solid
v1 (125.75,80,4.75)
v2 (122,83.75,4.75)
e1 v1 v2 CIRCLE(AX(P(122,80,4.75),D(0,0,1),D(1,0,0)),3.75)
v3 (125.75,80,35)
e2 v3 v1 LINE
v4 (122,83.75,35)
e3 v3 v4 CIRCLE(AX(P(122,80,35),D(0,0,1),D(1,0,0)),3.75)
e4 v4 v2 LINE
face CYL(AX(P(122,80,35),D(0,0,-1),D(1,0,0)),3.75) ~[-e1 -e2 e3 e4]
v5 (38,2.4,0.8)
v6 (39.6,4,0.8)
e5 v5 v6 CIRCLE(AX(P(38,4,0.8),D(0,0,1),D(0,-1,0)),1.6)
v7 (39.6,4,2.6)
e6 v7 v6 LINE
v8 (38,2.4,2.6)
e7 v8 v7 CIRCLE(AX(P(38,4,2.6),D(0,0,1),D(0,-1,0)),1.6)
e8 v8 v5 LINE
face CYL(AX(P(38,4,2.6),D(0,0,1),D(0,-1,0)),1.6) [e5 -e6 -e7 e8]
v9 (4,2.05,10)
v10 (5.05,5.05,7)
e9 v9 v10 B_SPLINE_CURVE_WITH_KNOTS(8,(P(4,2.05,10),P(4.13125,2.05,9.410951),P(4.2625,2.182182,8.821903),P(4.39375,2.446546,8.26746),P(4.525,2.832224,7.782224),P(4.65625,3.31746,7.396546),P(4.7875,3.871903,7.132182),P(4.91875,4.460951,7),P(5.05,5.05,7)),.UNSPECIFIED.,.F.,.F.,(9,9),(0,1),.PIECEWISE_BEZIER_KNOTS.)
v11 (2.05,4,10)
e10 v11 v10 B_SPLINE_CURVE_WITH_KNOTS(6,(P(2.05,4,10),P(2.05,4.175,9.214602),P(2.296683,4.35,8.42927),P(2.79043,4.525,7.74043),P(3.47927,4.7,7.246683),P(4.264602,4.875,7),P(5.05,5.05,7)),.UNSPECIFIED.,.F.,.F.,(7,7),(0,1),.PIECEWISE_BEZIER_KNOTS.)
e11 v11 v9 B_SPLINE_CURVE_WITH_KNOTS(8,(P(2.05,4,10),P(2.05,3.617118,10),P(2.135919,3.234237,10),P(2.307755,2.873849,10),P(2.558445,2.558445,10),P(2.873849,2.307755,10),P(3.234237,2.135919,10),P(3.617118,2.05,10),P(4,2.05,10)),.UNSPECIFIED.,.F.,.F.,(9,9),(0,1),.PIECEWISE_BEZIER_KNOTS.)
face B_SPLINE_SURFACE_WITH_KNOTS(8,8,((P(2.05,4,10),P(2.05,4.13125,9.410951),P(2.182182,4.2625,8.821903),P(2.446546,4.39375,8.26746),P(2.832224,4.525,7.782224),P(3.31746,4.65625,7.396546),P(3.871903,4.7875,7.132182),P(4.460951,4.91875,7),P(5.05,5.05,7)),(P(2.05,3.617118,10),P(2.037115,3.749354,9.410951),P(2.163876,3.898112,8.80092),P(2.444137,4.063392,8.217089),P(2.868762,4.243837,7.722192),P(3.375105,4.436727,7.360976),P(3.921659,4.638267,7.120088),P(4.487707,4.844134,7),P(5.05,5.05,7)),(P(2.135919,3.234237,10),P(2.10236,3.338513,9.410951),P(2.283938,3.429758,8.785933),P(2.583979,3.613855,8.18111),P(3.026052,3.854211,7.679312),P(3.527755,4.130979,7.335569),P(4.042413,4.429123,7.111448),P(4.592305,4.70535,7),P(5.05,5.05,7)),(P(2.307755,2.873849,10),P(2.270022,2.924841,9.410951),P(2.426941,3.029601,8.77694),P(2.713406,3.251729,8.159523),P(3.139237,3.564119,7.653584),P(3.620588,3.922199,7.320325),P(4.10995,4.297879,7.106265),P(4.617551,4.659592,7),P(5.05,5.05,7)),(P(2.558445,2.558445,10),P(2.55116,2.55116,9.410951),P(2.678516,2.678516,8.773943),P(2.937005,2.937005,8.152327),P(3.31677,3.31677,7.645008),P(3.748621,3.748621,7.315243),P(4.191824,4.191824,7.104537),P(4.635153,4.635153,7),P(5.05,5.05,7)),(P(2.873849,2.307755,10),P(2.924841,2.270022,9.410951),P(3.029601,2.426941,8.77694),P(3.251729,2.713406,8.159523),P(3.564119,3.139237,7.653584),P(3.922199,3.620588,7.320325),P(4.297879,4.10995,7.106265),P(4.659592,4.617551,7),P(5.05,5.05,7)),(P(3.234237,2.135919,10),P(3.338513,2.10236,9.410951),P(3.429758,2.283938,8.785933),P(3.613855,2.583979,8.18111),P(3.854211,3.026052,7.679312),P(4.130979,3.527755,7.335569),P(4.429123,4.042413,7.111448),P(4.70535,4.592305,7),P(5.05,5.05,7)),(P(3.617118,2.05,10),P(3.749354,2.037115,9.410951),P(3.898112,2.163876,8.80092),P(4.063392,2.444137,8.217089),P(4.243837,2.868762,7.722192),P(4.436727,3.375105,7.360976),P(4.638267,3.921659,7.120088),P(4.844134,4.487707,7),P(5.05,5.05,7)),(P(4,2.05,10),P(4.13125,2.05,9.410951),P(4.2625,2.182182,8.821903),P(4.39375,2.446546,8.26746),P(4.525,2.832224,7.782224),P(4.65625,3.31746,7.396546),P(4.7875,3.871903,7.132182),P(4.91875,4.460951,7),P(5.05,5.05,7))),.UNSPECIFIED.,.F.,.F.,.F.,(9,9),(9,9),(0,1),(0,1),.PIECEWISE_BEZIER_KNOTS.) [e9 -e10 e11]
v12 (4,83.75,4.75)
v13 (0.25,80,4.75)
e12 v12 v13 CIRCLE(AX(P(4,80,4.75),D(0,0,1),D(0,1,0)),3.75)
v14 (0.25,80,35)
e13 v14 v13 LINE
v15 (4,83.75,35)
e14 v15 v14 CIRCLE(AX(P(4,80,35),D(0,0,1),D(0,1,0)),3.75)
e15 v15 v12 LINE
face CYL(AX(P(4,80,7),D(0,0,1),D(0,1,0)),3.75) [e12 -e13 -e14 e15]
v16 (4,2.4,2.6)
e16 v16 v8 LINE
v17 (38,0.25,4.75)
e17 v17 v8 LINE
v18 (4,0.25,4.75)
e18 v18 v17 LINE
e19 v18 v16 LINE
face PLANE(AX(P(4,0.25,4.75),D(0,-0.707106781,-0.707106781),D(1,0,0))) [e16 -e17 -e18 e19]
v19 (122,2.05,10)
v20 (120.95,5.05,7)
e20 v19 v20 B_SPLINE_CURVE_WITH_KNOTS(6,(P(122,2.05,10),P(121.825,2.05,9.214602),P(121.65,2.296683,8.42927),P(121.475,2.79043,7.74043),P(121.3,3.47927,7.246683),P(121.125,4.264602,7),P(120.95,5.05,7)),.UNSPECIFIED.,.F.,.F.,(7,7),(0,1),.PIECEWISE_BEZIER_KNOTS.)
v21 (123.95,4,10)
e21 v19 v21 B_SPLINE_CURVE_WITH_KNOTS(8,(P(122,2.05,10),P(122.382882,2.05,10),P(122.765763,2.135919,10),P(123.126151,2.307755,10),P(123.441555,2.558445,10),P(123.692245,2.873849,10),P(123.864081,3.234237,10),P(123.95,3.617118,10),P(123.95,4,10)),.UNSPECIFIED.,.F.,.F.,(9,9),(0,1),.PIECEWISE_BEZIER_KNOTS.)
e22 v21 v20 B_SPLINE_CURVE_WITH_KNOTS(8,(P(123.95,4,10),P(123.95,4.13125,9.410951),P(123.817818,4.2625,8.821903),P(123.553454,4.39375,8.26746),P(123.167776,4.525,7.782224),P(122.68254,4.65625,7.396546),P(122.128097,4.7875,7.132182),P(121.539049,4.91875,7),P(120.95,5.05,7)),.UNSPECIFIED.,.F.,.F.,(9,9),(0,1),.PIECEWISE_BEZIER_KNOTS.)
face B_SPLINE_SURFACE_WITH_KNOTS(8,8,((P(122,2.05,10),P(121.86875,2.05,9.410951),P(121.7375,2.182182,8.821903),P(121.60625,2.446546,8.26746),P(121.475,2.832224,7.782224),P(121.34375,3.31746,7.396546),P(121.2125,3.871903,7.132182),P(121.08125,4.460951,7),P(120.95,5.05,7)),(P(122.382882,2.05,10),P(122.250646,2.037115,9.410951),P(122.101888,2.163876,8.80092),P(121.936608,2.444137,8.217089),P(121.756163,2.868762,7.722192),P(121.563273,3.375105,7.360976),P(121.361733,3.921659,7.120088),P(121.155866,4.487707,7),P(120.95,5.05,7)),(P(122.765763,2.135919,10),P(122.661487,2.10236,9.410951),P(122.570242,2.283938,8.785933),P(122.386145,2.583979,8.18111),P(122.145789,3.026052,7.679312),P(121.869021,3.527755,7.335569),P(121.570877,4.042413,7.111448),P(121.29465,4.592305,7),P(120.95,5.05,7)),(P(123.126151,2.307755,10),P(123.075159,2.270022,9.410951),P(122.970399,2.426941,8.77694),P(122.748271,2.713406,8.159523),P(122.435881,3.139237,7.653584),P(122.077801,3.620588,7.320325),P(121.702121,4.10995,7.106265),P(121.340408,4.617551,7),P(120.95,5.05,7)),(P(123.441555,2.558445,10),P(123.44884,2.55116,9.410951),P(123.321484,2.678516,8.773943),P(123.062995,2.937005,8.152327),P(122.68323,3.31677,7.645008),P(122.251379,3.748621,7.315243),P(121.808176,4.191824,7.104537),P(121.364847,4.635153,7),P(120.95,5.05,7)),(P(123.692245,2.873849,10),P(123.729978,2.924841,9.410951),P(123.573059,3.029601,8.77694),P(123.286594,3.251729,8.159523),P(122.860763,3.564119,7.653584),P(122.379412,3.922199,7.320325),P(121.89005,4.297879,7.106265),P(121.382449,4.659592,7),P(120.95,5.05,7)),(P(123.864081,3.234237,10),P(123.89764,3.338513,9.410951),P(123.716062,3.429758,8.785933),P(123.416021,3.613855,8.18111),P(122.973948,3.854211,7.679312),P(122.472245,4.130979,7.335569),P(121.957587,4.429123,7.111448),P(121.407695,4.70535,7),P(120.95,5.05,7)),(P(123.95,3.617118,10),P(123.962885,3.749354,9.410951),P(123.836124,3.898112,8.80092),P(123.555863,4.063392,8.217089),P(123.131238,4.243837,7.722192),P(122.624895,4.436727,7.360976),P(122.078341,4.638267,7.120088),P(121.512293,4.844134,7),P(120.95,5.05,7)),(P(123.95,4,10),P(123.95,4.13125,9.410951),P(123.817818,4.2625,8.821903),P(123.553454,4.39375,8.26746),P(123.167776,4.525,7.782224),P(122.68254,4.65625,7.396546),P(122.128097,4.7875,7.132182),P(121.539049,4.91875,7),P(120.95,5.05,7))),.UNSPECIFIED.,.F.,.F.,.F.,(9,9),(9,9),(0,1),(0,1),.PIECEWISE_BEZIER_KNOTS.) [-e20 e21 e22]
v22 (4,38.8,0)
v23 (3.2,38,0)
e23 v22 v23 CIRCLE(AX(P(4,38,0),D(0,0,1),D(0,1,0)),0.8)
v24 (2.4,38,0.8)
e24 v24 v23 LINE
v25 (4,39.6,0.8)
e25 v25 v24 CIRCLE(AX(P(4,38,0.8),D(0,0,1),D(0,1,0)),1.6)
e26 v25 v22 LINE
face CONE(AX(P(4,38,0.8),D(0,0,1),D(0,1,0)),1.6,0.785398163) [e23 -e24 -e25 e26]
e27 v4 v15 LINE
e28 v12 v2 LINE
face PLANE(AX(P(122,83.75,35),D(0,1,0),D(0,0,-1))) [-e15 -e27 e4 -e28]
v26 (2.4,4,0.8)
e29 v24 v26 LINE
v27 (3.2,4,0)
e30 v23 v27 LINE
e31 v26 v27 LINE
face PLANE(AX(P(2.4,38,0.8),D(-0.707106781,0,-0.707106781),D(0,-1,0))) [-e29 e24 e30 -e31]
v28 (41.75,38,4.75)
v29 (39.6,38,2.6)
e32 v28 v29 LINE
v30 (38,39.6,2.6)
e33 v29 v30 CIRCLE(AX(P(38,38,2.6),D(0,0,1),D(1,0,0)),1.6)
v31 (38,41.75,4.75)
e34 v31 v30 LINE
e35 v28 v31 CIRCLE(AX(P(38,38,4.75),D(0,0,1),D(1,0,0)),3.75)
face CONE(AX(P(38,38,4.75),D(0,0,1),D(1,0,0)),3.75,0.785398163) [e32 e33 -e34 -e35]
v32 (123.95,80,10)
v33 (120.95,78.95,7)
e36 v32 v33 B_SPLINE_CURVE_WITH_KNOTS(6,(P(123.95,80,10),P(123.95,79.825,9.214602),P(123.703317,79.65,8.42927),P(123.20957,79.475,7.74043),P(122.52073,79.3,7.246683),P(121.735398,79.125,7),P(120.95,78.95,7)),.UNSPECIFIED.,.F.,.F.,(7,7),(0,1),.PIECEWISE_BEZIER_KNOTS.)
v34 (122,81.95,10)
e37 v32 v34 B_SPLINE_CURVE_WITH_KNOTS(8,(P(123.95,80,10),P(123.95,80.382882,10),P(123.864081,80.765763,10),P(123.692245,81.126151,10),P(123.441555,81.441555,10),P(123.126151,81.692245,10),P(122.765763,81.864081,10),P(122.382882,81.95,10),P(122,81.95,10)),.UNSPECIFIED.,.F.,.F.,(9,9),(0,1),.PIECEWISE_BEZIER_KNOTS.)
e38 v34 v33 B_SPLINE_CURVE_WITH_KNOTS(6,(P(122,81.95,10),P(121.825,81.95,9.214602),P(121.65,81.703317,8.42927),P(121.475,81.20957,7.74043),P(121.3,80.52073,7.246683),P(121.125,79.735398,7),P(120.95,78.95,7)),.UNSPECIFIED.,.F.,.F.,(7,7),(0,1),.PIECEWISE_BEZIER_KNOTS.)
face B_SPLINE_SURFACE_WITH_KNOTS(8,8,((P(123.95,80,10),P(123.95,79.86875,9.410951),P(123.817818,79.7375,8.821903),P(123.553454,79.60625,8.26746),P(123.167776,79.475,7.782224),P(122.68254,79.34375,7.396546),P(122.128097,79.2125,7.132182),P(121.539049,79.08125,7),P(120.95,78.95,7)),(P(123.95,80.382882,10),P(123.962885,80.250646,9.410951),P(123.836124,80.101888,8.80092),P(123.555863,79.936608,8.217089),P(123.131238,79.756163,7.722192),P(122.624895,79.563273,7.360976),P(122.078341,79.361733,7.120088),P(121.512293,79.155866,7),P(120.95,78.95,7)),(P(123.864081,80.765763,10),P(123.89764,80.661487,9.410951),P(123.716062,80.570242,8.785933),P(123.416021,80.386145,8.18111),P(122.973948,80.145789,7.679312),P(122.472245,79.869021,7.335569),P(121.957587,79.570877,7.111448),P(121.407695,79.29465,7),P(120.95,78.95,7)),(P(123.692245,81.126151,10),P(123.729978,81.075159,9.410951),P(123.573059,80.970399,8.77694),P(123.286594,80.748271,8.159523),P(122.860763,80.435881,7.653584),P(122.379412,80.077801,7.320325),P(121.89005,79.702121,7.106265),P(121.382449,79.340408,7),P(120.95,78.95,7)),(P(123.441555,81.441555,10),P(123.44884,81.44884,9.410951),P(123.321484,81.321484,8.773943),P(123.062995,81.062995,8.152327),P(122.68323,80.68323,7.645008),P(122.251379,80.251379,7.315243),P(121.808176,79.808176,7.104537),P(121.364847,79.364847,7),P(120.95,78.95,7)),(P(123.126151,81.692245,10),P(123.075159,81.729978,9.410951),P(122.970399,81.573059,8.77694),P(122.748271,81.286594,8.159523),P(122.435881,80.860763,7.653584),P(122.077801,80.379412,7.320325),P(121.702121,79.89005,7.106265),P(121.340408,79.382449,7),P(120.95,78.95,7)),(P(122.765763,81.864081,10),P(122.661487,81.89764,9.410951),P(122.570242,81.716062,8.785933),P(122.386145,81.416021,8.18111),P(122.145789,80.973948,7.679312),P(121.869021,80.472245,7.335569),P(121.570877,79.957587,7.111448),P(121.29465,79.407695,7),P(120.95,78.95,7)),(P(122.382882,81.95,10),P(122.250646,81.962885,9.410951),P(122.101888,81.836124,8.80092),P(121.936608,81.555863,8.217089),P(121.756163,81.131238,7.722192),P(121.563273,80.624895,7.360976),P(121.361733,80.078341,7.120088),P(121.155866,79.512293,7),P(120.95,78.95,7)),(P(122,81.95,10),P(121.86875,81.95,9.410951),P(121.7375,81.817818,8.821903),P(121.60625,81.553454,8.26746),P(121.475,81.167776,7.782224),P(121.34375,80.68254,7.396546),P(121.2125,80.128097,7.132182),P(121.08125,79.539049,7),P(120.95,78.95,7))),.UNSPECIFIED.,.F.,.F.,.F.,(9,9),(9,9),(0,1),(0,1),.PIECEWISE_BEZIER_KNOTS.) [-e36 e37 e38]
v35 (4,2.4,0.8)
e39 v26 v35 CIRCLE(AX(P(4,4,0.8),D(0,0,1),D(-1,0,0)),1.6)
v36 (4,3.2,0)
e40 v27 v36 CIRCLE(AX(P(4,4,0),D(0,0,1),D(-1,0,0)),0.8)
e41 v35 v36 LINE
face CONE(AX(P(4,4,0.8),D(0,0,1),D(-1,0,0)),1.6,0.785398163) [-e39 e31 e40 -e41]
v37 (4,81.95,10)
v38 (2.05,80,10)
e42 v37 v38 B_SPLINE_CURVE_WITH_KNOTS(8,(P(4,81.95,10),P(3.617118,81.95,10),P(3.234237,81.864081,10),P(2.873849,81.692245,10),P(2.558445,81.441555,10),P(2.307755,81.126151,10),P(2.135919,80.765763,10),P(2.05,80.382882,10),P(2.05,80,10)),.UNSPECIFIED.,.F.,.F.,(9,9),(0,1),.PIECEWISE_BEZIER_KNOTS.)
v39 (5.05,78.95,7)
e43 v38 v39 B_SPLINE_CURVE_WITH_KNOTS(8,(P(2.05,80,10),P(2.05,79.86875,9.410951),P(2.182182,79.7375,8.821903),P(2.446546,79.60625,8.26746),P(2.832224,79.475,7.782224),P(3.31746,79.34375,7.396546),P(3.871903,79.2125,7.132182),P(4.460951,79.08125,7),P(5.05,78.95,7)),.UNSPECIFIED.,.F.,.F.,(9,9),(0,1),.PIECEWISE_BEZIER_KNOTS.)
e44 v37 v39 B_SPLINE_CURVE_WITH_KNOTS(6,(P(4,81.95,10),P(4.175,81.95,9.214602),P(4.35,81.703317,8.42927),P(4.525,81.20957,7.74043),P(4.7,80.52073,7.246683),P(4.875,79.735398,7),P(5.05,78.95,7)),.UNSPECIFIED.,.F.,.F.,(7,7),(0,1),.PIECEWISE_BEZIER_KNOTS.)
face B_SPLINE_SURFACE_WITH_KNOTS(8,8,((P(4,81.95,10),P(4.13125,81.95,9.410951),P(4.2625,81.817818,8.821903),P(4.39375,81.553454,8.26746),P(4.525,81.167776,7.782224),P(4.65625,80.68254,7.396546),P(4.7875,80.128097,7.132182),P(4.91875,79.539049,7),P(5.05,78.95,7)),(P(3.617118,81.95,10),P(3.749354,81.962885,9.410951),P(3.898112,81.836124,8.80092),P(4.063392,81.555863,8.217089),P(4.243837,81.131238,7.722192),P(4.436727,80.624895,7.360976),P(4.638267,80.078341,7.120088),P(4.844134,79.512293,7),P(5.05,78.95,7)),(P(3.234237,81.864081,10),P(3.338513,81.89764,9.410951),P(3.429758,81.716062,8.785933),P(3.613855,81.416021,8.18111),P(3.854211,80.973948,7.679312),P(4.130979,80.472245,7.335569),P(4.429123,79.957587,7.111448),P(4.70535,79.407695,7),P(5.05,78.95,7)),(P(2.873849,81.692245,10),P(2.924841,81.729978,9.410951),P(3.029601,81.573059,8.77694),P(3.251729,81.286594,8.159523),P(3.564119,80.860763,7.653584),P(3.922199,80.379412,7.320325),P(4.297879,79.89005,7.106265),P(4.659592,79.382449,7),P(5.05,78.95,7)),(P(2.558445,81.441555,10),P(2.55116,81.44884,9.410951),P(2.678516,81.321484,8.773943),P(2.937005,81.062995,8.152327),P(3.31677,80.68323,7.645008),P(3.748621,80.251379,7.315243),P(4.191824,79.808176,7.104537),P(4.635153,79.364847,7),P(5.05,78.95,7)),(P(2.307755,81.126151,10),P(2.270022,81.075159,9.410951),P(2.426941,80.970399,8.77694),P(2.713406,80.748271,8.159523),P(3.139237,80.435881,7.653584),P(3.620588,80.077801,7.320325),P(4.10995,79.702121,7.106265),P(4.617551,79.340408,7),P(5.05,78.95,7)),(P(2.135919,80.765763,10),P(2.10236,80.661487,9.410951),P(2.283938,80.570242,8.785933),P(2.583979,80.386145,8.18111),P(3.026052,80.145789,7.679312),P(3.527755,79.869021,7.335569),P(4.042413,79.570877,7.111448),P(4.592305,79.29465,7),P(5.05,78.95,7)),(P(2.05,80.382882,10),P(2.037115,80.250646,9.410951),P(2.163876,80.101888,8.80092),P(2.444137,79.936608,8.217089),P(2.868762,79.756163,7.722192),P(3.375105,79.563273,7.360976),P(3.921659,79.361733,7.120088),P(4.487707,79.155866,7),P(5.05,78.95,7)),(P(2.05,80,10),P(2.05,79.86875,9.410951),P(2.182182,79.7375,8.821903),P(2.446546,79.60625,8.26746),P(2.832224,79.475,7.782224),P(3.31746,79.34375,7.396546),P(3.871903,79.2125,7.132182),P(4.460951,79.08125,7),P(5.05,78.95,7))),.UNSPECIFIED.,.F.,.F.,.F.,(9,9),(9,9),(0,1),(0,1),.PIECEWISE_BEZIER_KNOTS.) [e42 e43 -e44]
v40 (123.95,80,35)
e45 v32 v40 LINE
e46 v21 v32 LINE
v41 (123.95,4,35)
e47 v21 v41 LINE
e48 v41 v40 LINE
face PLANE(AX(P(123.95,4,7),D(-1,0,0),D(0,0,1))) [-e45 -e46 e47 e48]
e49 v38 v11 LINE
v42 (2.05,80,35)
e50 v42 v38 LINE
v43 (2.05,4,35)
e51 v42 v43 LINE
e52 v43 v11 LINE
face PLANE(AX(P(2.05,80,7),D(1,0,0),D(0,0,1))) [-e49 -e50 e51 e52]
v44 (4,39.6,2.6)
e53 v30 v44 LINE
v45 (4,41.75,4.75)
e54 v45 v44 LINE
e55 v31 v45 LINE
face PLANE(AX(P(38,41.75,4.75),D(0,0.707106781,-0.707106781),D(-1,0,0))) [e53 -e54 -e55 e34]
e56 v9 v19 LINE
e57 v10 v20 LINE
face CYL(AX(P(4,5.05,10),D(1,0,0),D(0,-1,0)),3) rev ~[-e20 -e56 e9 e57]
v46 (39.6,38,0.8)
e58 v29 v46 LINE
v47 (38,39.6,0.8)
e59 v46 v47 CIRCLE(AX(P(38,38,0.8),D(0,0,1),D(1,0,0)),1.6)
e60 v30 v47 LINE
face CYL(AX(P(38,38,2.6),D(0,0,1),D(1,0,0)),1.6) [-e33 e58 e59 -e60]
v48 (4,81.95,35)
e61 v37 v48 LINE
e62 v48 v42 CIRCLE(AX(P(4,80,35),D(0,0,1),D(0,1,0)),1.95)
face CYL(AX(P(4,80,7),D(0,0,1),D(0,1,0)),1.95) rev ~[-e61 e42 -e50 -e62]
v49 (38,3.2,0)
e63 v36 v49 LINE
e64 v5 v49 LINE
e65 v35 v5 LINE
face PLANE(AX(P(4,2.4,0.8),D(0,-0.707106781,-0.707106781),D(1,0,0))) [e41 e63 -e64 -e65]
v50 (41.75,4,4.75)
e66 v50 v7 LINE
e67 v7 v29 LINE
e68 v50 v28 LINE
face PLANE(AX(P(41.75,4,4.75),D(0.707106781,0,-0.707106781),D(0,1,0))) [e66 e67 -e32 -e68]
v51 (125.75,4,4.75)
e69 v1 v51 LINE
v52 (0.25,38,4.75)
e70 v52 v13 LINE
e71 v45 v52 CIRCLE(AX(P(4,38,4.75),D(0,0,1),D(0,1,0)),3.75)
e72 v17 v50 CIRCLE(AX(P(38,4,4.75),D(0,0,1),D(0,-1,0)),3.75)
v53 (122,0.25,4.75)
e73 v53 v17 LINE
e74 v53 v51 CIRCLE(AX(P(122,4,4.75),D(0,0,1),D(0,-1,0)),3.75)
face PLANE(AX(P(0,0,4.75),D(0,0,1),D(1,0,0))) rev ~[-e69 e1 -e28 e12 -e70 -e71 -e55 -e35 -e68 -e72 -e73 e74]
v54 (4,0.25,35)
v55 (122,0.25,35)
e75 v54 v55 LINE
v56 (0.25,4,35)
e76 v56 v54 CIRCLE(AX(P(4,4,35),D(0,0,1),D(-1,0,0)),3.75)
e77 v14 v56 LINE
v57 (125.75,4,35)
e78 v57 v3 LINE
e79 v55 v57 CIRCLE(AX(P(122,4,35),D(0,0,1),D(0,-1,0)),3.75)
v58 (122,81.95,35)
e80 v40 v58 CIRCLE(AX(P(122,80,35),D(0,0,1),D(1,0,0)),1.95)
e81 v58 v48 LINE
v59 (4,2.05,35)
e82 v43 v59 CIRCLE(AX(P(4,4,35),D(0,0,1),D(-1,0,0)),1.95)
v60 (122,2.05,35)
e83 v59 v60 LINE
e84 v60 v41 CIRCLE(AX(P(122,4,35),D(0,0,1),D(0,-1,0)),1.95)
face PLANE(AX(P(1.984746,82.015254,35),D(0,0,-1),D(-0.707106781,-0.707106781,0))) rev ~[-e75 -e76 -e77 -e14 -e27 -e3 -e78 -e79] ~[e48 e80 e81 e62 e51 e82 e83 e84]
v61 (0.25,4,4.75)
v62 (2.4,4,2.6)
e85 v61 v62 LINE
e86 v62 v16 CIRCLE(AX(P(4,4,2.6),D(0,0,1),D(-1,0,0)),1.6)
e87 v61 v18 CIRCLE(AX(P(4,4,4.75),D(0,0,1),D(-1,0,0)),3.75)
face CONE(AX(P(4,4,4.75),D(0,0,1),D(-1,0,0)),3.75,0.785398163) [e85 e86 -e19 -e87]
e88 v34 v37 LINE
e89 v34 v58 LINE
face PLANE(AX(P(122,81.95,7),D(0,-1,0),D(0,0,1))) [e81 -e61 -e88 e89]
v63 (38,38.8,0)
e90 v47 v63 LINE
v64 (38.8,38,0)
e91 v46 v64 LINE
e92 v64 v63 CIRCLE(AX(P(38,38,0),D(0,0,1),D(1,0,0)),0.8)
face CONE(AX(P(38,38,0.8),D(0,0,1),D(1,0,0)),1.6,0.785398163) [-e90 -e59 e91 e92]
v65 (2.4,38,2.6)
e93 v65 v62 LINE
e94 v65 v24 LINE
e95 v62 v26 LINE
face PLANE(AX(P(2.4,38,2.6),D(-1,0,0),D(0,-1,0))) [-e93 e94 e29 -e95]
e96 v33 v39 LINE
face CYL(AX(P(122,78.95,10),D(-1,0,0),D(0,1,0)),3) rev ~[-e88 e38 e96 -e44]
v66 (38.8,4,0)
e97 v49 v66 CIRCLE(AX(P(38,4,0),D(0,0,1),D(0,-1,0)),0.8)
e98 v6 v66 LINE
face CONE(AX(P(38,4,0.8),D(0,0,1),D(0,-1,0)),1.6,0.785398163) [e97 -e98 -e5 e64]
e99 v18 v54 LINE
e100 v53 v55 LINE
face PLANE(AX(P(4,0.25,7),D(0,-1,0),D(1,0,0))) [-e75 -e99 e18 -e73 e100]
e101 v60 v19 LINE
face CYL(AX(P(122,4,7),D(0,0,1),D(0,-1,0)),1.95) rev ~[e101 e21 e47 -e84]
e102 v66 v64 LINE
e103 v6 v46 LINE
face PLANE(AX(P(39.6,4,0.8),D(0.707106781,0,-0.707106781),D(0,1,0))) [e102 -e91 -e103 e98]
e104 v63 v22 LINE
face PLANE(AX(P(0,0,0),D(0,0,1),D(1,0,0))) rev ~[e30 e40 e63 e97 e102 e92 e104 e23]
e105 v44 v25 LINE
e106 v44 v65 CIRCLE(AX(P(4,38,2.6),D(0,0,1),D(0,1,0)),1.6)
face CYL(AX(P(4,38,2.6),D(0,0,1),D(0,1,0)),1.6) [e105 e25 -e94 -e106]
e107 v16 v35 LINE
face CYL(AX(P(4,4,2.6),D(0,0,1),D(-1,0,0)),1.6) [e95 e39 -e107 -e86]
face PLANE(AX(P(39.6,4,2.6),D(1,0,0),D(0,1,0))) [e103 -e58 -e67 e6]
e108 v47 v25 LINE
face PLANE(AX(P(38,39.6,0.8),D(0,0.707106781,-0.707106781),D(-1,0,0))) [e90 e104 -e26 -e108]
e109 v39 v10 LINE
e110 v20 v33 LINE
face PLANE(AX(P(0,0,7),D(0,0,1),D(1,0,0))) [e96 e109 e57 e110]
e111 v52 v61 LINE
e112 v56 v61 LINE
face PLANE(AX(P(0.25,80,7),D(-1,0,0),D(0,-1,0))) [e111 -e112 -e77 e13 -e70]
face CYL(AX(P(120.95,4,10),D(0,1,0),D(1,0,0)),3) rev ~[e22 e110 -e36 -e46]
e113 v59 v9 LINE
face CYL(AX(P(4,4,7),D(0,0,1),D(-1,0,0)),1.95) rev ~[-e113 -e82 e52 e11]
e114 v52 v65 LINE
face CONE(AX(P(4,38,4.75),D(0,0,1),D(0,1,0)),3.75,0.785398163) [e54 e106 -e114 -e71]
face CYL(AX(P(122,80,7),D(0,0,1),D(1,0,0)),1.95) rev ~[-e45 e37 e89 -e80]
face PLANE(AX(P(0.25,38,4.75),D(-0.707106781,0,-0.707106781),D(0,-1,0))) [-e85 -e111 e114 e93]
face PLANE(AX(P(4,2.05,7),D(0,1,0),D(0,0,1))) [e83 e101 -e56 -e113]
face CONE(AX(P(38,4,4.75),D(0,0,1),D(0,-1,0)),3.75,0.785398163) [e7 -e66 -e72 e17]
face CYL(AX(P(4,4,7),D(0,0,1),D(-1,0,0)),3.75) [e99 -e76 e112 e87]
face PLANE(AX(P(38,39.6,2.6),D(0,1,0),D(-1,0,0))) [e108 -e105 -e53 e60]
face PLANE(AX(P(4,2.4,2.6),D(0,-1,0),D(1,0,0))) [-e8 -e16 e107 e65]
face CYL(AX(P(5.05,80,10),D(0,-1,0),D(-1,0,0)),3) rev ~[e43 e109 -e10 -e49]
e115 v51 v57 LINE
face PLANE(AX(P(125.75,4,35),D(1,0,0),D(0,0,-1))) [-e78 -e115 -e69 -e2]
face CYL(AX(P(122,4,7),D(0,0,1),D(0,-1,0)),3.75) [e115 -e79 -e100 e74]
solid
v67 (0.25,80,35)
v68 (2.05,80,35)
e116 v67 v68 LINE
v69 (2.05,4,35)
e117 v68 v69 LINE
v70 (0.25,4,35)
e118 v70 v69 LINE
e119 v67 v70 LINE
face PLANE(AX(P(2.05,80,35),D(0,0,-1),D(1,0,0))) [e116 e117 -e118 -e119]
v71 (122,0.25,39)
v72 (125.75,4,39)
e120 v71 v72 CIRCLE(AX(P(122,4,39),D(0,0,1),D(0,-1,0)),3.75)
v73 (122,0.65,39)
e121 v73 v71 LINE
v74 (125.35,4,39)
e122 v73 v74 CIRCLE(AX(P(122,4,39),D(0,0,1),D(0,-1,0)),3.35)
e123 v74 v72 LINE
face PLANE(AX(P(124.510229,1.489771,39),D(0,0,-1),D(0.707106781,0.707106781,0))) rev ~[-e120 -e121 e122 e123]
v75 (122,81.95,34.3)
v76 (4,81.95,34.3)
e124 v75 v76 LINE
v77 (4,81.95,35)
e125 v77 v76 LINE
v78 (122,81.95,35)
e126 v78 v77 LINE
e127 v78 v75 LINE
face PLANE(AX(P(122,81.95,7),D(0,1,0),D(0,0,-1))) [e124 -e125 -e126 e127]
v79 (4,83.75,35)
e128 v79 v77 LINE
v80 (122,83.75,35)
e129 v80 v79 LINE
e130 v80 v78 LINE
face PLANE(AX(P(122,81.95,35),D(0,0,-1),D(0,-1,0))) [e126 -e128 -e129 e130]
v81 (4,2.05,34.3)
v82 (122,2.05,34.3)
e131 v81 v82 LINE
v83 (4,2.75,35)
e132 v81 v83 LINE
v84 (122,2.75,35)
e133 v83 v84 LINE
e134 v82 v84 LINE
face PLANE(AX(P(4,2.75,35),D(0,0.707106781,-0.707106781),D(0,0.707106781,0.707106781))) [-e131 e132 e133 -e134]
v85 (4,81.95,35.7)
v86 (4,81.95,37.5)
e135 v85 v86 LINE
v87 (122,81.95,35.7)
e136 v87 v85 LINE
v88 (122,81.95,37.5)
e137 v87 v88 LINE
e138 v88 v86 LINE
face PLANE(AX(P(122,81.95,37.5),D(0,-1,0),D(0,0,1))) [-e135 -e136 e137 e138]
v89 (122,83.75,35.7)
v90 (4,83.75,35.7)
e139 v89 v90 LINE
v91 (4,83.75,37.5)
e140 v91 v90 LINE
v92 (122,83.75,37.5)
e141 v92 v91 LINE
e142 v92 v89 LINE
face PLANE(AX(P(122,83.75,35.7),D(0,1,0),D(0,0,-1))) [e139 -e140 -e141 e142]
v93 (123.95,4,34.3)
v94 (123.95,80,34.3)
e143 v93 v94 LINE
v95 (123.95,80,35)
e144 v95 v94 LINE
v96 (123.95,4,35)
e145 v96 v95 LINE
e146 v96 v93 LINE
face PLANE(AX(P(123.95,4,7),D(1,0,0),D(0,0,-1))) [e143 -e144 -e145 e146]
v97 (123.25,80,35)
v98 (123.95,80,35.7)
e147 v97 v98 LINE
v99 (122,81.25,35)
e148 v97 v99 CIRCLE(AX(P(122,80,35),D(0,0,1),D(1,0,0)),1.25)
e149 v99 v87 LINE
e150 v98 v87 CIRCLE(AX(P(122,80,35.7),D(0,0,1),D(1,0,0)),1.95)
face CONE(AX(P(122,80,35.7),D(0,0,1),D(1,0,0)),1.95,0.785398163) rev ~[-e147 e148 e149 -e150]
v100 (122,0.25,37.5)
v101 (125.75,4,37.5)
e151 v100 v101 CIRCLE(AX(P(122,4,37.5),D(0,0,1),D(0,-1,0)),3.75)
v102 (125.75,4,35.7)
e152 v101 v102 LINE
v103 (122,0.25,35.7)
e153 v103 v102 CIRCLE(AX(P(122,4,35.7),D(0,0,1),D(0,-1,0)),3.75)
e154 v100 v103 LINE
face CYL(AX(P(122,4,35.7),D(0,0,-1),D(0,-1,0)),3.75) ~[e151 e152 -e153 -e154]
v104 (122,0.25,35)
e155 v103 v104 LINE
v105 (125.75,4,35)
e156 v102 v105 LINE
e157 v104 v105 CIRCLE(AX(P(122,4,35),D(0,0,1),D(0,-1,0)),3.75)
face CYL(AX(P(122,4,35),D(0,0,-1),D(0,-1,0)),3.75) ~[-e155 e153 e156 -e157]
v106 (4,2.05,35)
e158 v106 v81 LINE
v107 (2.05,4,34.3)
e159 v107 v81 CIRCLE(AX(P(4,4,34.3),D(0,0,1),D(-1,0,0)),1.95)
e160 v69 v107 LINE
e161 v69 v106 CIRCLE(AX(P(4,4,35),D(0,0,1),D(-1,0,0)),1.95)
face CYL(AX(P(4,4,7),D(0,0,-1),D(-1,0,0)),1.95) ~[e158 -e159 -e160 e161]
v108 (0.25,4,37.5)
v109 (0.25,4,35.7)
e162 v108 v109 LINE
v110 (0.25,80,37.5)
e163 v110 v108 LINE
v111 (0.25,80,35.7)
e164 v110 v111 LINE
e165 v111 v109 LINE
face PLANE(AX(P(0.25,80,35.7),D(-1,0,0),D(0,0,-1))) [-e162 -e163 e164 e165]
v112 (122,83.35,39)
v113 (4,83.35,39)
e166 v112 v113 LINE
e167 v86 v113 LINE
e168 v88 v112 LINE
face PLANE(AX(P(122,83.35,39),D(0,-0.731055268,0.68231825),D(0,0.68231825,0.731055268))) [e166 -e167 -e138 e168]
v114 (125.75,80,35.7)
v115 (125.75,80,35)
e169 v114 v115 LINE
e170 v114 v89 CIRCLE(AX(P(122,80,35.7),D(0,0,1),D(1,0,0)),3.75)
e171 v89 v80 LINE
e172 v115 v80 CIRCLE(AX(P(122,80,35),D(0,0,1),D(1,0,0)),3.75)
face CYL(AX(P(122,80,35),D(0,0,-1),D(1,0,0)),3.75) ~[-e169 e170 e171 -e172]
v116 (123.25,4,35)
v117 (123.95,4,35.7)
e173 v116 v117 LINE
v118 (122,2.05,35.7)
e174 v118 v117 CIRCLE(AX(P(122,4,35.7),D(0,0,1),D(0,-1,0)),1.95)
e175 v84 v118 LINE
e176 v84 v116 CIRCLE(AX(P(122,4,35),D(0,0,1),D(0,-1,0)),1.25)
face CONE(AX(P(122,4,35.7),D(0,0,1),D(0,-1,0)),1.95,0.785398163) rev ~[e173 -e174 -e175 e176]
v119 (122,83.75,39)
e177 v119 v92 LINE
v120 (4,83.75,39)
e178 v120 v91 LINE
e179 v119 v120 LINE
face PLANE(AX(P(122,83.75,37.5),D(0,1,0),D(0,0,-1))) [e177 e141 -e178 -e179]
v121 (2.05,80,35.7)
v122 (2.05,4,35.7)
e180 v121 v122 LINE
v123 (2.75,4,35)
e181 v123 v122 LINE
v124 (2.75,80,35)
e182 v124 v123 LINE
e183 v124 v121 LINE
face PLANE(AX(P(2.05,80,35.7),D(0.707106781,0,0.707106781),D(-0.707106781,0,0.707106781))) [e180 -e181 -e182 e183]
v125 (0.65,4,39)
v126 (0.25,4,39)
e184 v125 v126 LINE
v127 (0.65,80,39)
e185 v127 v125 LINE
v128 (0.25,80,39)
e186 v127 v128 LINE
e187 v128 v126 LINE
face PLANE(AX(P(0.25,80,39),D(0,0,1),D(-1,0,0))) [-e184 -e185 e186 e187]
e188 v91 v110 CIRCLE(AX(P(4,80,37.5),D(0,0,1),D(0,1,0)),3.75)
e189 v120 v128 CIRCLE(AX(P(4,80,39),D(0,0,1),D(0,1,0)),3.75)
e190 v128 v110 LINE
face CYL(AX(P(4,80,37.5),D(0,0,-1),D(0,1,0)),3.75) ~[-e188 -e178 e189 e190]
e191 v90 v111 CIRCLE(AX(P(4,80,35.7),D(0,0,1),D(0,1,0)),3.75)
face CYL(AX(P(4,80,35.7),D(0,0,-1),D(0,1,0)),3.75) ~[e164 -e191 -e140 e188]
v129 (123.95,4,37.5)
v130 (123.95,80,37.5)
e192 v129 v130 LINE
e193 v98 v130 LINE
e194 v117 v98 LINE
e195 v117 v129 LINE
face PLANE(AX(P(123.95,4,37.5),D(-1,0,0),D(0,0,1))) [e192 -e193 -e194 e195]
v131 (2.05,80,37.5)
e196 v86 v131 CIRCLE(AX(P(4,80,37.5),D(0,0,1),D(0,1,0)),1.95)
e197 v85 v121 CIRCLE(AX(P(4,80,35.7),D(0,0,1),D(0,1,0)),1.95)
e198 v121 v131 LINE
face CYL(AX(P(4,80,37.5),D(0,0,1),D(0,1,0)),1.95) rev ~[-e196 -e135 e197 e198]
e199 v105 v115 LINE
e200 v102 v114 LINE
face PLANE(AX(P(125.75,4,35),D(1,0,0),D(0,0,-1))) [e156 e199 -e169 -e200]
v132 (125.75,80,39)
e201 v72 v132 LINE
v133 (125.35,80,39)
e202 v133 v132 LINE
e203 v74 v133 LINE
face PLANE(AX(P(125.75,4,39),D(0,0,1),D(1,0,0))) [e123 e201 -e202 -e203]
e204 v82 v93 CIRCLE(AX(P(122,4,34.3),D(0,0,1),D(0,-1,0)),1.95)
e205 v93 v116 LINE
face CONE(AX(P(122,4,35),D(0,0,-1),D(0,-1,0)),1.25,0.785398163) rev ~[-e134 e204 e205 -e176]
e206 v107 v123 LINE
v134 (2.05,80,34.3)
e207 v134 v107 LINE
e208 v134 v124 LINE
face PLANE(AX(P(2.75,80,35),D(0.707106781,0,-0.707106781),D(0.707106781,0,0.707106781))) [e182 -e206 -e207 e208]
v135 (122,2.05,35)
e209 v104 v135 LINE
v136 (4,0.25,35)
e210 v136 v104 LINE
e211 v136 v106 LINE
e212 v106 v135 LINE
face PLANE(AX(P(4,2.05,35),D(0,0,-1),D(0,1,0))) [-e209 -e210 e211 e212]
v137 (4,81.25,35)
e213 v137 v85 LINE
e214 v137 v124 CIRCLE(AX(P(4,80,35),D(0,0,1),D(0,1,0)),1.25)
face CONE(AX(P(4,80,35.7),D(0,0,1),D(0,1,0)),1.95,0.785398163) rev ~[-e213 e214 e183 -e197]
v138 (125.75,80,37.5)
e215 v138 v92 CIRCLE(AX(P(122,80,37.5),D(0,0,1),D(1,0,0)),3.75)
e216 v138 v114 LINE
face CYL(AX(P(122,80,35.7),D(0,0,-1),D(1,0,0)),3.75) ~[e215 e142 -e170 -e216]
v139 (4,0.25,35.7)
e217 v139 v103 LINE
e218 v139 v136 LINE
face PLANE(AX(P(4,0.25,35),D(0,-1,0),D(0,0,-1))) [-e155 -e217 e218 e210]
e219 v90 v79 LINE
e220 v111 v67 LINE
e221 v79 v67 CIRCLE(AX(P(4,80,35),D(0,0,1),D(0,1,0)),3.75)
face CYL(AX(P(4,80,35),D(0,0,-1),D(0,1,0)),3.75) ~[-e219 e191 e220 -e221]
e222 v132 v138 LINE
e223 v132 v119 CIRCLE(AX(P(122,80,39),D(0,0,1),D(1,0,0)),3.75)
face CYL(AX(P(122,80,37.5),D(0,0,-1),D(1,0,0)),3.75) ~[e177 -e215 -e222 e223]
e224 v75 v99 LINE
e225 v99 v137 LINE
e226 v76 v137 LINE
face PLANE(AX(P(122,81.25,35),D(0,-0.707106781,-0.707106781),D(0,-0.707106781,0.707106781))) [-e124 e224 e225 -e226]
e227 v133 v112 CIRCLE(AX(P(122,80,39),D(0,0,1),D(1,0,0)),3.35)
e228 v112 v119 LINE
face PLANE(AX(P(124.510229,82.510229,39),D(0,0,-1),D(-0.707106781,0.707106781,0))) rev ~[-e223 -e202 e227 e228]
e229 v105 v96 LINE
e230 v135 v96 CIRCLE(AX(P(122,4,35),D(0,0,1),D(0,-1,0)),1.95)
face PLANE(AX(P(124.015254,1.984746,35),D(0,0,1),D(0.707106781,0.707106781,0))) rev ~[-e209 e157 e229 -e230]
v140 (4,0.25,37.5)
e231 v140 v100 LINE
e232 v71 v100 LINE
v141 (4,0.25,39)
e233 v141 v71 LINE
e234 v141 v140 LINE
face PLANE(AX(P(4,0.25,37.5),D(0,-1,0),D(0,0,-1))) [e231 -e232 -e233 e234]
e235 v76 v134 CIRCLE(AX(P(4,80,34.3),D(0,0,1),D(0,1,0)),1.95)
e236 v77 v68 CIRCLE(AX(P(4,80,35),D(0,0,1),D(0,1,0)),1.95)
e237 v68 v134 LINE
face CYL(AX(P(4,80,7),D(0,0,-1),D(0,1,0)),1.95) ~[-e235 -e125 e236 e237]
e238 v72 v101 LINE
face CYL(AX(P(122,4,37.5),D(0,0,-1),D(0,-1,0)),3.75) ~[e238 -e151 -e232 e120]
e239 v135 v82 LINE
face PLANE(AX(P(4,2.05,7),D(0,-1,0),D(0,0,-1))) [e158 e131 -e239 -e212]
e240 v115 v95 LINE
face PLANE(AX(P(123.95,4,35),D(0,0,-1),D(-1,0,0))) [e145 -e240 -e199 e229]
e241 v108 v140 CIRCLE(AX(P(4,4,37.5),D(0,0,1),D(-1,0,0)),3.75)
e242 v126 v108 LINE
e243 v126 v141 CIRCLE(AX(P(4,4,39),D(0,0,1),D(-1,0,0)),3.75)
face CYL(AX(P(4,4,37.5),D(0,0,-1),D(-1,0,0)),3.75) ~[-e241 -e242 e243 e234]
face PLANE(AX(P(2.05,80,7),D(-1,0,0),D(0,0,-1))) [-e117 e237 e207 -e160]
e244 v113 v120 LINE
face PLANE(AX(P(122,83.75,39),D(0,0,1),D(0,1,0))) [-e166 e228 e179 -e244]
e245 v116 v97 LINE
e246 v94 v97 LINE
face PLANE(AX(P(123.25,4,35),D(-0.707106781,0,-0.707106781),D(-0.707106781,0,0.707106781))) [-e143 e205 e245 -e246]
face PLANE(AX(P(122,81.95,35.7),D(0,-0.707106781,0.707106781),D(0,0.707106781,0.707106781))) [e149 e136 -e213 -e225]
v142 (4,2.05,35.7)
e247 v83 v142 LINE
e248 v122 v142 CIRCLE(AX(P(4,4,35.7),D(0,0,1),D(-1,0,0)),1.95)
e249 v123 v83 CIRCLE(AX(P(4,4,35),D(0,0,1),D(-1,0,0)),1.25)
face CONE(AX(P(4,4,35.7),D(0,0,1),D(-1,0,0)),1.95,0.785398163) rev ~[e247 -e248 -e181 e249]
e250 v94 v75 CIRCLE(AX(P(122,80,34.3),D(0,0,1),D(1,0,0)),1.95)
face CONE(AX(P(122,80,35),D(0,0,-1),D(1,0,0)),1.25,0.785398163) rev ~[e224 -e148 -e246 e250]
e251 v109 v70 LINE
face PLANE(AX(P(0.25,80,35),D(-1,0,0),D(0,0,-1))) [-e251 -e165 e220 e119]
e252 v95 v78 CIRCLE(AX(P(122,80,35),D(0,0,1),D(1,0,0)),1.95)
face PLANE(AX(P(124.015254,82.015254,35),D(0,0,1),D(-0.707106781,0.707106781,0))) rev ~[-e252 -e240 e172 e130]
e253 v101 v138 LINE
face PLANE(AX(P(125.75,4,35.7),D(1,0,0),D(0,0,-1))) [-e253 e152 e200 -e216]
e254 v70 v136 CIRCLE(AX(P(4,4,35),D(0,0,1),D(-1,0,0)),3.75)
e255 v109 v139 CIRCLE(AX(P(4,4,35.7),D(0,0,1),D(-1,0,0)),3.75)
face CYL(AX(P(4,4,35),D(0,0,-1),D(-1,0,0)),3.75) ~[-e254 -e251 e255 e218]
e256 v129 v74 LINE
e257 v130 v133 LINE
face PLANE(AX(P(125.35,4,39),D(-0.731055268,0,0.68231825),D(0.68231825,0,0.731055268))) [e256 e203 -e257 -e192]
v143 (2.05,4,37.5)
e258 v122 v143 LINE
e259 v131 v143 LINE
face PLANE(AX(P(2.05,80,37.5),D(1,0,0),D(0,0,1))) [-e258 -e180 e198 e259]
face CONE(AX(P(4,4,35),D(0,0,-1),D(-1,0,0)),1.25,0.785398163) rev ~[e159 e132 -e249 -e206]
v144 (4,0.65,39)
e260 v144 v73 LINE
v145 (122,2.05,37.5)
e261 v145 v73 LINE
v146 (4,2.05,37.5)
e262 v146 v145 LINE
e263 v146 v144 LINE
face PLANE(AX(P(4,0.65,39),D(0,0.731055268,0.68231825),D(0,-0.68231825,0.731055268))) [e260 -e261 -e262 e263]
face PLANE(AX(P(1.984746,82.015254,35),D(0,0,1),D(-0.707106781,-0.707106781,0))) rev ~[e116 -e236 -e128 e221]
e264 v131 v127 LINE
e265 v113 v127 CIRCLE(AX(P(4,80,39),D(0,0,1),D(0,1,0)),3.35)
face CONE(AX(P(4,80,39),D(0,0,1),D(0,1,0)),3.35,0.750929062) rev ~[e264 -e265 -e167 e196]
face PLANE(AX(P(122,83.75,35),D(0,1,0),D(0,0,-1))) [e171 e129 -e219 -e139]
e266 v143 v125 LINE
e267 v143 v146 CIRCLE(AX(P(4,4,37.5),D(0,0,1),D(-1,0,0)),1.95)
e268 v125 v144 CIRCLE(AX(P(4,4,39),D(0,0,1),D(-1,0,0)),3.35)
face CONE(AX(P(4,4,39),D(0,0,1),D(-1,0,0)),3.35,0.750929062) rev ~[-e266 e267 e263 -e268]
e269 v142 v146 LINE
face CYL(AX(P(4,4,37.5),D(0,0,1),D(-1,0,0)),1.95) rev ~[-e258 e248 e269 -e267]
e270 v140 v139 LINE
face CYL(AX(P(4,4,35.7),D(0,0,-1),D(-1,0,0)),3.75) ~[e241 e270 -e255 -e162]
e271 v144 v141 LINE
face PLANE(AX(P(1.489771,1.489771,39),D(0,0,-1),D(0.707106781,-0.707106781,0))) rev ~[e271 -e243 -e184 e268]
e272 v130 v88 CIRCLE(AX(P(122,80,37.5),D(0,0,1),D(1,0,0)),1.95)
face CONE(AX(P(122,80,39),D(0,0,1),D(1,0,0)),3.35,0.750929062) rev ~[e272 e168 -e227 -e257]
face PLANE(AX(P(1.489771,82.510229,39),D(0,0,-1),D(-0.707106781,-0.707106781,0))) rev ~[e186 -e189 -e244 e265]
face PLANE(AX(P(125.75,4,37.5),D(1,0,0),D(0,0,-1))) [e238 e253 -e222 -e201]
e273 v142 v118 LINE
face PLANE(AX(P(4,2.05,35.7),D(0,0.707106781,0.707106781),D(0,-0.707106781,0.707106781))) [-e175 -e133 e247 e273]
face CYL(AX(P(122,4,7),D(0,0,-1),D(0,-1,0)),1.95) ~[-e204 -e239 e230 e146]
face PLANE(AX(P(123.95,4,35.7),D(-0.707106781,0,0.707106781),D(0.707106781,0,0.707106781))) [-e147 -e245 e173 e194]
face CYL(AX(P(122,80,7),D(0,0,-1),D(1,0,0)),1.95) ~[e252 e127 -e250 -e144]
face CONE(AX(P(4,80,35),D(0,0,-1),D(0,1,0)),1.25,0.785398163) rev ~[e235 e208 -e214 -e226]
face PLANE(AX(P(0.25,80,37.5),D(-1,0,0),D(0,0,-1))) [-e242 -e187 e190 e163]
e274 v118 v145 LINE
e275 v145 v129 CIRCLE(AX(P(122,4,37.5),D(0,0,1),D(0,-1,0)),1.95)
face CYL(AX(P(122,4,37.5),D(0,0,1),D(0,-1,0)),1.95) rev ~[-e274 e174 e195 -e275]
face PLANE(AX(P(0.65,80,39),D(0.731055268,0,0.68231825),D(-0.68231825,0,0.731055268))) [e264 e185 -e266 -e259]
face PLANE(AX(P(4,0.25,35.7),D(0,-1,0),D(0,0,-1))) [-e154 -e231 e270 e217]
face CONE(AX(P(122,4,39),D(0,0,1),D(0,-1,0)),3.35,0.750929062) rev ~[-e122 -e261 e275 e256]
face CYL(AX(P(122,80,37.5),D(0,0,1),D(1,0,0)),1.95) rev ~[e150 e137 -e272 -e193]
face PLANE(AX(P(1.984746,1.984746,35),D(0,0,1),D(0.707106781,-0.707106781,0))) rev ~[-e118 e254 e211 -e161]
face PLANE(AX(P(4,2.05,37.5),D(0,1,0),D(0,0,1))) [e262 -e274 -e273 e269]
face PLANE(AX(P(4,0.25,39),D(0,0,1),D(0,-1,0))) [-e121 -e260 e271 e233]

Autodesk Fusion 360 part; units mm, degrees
ref_plane "WorkPlane1" through (0, 0, 4.75) normal (0, 0, 1) x (1, 0, 0) in component "Hollow box"
sketch "Feet" plane through (0, 0, 4.75) normal (0, 0, 1) x (1, 0, 0) in component "Hollow box"
  line L0 (0, 0) -> (126, 0)
  line L1 (126, 0) -> (126, 84)
  line L2 (126, 84) -> (0, 84)
  line L3 (0, 84) -> (0, 0)
  line L4 (4, 0.25) -> (38, 0.25)
  line L5 (41.75, 4) -> (41.75, 38)
  line L6 (38, 41.75) -> (4, 41.75)
  line L7 (0.25, 38) -> (0.25, 4)
  arc A0 (4, 41.75) -> (0.25, 38) centre (4, 38) ccw
  arc A1 (0.25, 4) -> (4, 0.25) centre (4, 4) ccw
  arc A2 (38, 0.25) -> (41.75, 4) centre (38, 4) ccw
  arc A3 (41.75, 38) -> (38, 41.75) centre (38, 38) ccw
  dimension "d11" = 126
  dimension "d12" = 84
  dimension "d13" = 0.25
  dimension "d14" = 0.25
  dimension "d15" = 41.5
  dimension "d16" = 41.5
  dimension "d17" = 3.75
extrude "Extrude1" add sketch "Feet" against normal blind 2.15 draft -45 contours L4 L5 L6 L7 A0 A1 A2 A3 makes body 1 in component "Hollow box"
extrude "Extrude2" add 1 faces at (27.2, 26.6667, 2.6) along direction (0, 0, -1) blind 1.8 on bodies 1 bodies 1 in component "Hollow box"
extrude "Extrude3" add 1 faces at (27.2, 26.6667, 0.8) along direction (0, 0, -1) blind 0.8 draft -45 on bodies 1 bodies 1 in component "Hollow box"
extrude "Extrude4" add sketch "Feet" against normal blind 4.75 separate body contours L0 L1 L2 L3 | L4 L5 L6 L7 A0 A1 A2 A3 makes body 2 in component "Hollow box"
combine "Combine4" operation cut target body 2 tool bodies 1 in component "Hollow box"
pattern_linear "R-Pattern1" count 3 spacing 42 along (1, 0, 0) count 2 spacing 42 along (0, 1, 0) of "Extrude1", "Extrude2", "Extrude3" in component "Hollow box"
ref_plane "WorkPlane2" through (0, 0, 7) normal (0, 0, 1) x (1, 0, 0) in component "Hollow box"
sketch "Bottom sketch" plane through (0, 0, 7) normal (0, 0, 1) x (1, 0, 0) in component "Hollow box"
  line L0 (4, 0.25) -> (122, 0.25)
  line L1 (125.75, 4) -> (125.75, 80)
  line L2 (122, 83.75) -> (4, 83.75)
  line L3 (0.25, 80) -> (0.25, 4)
  arc A0 (4, 83.75) -> (0.25, 80) centre (4, 80) ccw
  arc A1 (125.75, 80) -> (122, 83.75) centre (122, 80) ccw
  arc A2 (122, 0.25) -> (125.75, 4) centre (122, 4) ccw
  arc A3 (0.25, 4) -> (4, 0.25) centre (4, 4) ccw
  dimension "d31" = 0.25
  dimension "d32" = 0.25
  dimension "d33" = 83.5
  dimension "d34" = 125.5
  dimension "d35" = 3.75
extrude "Extrude5" add sketch "Bottom sketch" against normal blind 7 separate body makes body 3 in component "Hollow box"
combine "Combine5" operation cut target body 3 tool bodies 2 in component "Hollow box"
sketch "Bottom (for customization)" plane through (0, 0, 7) normal (0, 0, 1) x (1, 0, 0) in component "Hollow box"
  arc A0 (0.25, 4) -> (4, 0.25) centre (4, 4) ccw
  line L0 (4, 0.25) -> (122, 0.25)
  arc A1 (122, 0.25) -> (125.75, 4) centre (122, 4) ccw
  line L1 (125.75, 4) -> (125.75, 80)
  arc A2 (125.75, 80) -> (122, 83.75) centre (122, 80) ccw
  line L2 (122, 83.75) -> (4, 83.75)
  arc A3 (4, 83.75) -> (0.25, 80) centre (4, 80) ccw
  line L3 (0.25, 80) -> (0.25, 4)
sketch "Wall perimeter (sweep path)" plane through (0, 0, 7) normal (0, 0, 1) x (1, 0, 0) in component "Hollow box"
  arc A0 (0.25, 4) -> (4, 0.25) centre (4, 4) ccw
  line L0 (4, 0.25) -> (122, 0.25)
  arc A1 (122, 0.25) -> (125.75, 4) centre (122, 4) ccw
  line L1 (125.75, 4) -> (125.75, 80)
  arc A2 (125.75, 80) -> (122, 83.75) centre (122, 80) ccw
  line L2 (122, 83.75) -> (4, 83.75)
  arc A3 (4, 83.75) -> (0.25, 80) centre (4, 80) ccw
  line L3 (0.25, 80) -> (0.25, 4)
ref_plane "WorkPlane3" through (125.75, 4, 7) normal (0, 1, 0) x (-1, 0, 0) in component "Hollow box"
sketch "Wall silhouette" plane through (125.75, 4, 7) normal (0, 1, 0) x (-1, 0, 0) in component "Hollow box"
  line L0 (0, 0) -> (1.8, 0)
  line L1 (1.8, 0) -> (1.8, 28)
  line L2 (1.8, 28) -> (0, 28)
  line L3 (0, 28) -> (0, 0)
  line L4 (0, 28) -> (0, 28.7)
  line L5 (0, 28.7) -> (0, 30.5)
  line L6 (0, 30.5) -> (0, 32)
  line L7 (0, 32) -> (0.4, 32)
  line L8 (0.4, 32) -> (4.3, 32) construction
  line L9 (0, 30.5) -> (1.8, 30.5) construction
  line L10 (0.4, 32) -> (1.8, 30.5)
  line L11 (1.8, 30.5) -> (1.8, 28.7)
  line L12 (1.8, 28.7) -> (2.5, 28)
  line L13 (1.8, 28.7) -> (4.1815, 28.7) construction
  line L14 (2.5, 28) -> (6.0355, 28) construction
  line L15 (2.5, 28) -> (0, 25.5)
  dimension "d39" = 1.8
  dimension "d40" = 28
  dimension "d41" = 0.7
  dimension "d42" = 1.8
  dimension "d43" = 1.5
  dimension "d47" = 0.4
  dimension "d69" = 1.8
  dimension "d70" = 45
sweep "Sweep1" add profiles "Wall silhouette" path "Wall perimeter (sweep path)" along A3 L3 A0 L0 A1 L1 A2 L2 section 1 contours L0 L1 L3 L15 | L1 L2 L3 L15 bodies 3 in component "Hollow box"
sweep "Sweep2" add profiles "Wall silhouette" path "Wall perimeter (sweep path)" along L3 A0 L0 A1 L1 A2 L2 A3 section 1 contours L1 L2 L4 L5 L6 L7 L10 L11 L12 L15 separate body makes body 4 in component "Hollow box"
fillet "Fillet1" radius 3 1 faces at (82.6667, 28.6833, 7) on bodies 3 in component "Hollow box"
ref_plane "WorkPlane4" through (0, 0, 35) normal (0, 0, 1) x (1, 0, 0) in component "Hollow box"
component "Hollow box" placed x (1, 0, 0) y (0, 1, 0) z (0, 0, 1) at (0, 0, 0)
equation "User Parameter = The base Gridfinity unit size (spec default: 42mm)"
equation "HU = 7 mm"
equation "Tolerance = 0.5 mm"
equation "InnerBoxHeight = Height * HU"
equation "FilletRadius = 3 mm"
equation "WallThickness = 1.8 mm"
equation "d11 = Columns * U"
equation "d12 = Rows * U"
equation "d13 = Tolerance / 2"
equation "d14 = Tolerance / 2"
equation "d15 = U - Tolerance"
equation "d16 = U - Tolerance"
equation "d31 = Tolerance / 2"
equation "d32 = Tolerance / 2"
equation "d33 = Rows * U - Tolerance"
equation "d34 = Columns * U - Tolerance"
equation "d39 = WallThickness"
equation "d40 = InnerBoxHeight"
equation "d66 = FilletRadius"
equation "d72 = InnerBoxHeight"
